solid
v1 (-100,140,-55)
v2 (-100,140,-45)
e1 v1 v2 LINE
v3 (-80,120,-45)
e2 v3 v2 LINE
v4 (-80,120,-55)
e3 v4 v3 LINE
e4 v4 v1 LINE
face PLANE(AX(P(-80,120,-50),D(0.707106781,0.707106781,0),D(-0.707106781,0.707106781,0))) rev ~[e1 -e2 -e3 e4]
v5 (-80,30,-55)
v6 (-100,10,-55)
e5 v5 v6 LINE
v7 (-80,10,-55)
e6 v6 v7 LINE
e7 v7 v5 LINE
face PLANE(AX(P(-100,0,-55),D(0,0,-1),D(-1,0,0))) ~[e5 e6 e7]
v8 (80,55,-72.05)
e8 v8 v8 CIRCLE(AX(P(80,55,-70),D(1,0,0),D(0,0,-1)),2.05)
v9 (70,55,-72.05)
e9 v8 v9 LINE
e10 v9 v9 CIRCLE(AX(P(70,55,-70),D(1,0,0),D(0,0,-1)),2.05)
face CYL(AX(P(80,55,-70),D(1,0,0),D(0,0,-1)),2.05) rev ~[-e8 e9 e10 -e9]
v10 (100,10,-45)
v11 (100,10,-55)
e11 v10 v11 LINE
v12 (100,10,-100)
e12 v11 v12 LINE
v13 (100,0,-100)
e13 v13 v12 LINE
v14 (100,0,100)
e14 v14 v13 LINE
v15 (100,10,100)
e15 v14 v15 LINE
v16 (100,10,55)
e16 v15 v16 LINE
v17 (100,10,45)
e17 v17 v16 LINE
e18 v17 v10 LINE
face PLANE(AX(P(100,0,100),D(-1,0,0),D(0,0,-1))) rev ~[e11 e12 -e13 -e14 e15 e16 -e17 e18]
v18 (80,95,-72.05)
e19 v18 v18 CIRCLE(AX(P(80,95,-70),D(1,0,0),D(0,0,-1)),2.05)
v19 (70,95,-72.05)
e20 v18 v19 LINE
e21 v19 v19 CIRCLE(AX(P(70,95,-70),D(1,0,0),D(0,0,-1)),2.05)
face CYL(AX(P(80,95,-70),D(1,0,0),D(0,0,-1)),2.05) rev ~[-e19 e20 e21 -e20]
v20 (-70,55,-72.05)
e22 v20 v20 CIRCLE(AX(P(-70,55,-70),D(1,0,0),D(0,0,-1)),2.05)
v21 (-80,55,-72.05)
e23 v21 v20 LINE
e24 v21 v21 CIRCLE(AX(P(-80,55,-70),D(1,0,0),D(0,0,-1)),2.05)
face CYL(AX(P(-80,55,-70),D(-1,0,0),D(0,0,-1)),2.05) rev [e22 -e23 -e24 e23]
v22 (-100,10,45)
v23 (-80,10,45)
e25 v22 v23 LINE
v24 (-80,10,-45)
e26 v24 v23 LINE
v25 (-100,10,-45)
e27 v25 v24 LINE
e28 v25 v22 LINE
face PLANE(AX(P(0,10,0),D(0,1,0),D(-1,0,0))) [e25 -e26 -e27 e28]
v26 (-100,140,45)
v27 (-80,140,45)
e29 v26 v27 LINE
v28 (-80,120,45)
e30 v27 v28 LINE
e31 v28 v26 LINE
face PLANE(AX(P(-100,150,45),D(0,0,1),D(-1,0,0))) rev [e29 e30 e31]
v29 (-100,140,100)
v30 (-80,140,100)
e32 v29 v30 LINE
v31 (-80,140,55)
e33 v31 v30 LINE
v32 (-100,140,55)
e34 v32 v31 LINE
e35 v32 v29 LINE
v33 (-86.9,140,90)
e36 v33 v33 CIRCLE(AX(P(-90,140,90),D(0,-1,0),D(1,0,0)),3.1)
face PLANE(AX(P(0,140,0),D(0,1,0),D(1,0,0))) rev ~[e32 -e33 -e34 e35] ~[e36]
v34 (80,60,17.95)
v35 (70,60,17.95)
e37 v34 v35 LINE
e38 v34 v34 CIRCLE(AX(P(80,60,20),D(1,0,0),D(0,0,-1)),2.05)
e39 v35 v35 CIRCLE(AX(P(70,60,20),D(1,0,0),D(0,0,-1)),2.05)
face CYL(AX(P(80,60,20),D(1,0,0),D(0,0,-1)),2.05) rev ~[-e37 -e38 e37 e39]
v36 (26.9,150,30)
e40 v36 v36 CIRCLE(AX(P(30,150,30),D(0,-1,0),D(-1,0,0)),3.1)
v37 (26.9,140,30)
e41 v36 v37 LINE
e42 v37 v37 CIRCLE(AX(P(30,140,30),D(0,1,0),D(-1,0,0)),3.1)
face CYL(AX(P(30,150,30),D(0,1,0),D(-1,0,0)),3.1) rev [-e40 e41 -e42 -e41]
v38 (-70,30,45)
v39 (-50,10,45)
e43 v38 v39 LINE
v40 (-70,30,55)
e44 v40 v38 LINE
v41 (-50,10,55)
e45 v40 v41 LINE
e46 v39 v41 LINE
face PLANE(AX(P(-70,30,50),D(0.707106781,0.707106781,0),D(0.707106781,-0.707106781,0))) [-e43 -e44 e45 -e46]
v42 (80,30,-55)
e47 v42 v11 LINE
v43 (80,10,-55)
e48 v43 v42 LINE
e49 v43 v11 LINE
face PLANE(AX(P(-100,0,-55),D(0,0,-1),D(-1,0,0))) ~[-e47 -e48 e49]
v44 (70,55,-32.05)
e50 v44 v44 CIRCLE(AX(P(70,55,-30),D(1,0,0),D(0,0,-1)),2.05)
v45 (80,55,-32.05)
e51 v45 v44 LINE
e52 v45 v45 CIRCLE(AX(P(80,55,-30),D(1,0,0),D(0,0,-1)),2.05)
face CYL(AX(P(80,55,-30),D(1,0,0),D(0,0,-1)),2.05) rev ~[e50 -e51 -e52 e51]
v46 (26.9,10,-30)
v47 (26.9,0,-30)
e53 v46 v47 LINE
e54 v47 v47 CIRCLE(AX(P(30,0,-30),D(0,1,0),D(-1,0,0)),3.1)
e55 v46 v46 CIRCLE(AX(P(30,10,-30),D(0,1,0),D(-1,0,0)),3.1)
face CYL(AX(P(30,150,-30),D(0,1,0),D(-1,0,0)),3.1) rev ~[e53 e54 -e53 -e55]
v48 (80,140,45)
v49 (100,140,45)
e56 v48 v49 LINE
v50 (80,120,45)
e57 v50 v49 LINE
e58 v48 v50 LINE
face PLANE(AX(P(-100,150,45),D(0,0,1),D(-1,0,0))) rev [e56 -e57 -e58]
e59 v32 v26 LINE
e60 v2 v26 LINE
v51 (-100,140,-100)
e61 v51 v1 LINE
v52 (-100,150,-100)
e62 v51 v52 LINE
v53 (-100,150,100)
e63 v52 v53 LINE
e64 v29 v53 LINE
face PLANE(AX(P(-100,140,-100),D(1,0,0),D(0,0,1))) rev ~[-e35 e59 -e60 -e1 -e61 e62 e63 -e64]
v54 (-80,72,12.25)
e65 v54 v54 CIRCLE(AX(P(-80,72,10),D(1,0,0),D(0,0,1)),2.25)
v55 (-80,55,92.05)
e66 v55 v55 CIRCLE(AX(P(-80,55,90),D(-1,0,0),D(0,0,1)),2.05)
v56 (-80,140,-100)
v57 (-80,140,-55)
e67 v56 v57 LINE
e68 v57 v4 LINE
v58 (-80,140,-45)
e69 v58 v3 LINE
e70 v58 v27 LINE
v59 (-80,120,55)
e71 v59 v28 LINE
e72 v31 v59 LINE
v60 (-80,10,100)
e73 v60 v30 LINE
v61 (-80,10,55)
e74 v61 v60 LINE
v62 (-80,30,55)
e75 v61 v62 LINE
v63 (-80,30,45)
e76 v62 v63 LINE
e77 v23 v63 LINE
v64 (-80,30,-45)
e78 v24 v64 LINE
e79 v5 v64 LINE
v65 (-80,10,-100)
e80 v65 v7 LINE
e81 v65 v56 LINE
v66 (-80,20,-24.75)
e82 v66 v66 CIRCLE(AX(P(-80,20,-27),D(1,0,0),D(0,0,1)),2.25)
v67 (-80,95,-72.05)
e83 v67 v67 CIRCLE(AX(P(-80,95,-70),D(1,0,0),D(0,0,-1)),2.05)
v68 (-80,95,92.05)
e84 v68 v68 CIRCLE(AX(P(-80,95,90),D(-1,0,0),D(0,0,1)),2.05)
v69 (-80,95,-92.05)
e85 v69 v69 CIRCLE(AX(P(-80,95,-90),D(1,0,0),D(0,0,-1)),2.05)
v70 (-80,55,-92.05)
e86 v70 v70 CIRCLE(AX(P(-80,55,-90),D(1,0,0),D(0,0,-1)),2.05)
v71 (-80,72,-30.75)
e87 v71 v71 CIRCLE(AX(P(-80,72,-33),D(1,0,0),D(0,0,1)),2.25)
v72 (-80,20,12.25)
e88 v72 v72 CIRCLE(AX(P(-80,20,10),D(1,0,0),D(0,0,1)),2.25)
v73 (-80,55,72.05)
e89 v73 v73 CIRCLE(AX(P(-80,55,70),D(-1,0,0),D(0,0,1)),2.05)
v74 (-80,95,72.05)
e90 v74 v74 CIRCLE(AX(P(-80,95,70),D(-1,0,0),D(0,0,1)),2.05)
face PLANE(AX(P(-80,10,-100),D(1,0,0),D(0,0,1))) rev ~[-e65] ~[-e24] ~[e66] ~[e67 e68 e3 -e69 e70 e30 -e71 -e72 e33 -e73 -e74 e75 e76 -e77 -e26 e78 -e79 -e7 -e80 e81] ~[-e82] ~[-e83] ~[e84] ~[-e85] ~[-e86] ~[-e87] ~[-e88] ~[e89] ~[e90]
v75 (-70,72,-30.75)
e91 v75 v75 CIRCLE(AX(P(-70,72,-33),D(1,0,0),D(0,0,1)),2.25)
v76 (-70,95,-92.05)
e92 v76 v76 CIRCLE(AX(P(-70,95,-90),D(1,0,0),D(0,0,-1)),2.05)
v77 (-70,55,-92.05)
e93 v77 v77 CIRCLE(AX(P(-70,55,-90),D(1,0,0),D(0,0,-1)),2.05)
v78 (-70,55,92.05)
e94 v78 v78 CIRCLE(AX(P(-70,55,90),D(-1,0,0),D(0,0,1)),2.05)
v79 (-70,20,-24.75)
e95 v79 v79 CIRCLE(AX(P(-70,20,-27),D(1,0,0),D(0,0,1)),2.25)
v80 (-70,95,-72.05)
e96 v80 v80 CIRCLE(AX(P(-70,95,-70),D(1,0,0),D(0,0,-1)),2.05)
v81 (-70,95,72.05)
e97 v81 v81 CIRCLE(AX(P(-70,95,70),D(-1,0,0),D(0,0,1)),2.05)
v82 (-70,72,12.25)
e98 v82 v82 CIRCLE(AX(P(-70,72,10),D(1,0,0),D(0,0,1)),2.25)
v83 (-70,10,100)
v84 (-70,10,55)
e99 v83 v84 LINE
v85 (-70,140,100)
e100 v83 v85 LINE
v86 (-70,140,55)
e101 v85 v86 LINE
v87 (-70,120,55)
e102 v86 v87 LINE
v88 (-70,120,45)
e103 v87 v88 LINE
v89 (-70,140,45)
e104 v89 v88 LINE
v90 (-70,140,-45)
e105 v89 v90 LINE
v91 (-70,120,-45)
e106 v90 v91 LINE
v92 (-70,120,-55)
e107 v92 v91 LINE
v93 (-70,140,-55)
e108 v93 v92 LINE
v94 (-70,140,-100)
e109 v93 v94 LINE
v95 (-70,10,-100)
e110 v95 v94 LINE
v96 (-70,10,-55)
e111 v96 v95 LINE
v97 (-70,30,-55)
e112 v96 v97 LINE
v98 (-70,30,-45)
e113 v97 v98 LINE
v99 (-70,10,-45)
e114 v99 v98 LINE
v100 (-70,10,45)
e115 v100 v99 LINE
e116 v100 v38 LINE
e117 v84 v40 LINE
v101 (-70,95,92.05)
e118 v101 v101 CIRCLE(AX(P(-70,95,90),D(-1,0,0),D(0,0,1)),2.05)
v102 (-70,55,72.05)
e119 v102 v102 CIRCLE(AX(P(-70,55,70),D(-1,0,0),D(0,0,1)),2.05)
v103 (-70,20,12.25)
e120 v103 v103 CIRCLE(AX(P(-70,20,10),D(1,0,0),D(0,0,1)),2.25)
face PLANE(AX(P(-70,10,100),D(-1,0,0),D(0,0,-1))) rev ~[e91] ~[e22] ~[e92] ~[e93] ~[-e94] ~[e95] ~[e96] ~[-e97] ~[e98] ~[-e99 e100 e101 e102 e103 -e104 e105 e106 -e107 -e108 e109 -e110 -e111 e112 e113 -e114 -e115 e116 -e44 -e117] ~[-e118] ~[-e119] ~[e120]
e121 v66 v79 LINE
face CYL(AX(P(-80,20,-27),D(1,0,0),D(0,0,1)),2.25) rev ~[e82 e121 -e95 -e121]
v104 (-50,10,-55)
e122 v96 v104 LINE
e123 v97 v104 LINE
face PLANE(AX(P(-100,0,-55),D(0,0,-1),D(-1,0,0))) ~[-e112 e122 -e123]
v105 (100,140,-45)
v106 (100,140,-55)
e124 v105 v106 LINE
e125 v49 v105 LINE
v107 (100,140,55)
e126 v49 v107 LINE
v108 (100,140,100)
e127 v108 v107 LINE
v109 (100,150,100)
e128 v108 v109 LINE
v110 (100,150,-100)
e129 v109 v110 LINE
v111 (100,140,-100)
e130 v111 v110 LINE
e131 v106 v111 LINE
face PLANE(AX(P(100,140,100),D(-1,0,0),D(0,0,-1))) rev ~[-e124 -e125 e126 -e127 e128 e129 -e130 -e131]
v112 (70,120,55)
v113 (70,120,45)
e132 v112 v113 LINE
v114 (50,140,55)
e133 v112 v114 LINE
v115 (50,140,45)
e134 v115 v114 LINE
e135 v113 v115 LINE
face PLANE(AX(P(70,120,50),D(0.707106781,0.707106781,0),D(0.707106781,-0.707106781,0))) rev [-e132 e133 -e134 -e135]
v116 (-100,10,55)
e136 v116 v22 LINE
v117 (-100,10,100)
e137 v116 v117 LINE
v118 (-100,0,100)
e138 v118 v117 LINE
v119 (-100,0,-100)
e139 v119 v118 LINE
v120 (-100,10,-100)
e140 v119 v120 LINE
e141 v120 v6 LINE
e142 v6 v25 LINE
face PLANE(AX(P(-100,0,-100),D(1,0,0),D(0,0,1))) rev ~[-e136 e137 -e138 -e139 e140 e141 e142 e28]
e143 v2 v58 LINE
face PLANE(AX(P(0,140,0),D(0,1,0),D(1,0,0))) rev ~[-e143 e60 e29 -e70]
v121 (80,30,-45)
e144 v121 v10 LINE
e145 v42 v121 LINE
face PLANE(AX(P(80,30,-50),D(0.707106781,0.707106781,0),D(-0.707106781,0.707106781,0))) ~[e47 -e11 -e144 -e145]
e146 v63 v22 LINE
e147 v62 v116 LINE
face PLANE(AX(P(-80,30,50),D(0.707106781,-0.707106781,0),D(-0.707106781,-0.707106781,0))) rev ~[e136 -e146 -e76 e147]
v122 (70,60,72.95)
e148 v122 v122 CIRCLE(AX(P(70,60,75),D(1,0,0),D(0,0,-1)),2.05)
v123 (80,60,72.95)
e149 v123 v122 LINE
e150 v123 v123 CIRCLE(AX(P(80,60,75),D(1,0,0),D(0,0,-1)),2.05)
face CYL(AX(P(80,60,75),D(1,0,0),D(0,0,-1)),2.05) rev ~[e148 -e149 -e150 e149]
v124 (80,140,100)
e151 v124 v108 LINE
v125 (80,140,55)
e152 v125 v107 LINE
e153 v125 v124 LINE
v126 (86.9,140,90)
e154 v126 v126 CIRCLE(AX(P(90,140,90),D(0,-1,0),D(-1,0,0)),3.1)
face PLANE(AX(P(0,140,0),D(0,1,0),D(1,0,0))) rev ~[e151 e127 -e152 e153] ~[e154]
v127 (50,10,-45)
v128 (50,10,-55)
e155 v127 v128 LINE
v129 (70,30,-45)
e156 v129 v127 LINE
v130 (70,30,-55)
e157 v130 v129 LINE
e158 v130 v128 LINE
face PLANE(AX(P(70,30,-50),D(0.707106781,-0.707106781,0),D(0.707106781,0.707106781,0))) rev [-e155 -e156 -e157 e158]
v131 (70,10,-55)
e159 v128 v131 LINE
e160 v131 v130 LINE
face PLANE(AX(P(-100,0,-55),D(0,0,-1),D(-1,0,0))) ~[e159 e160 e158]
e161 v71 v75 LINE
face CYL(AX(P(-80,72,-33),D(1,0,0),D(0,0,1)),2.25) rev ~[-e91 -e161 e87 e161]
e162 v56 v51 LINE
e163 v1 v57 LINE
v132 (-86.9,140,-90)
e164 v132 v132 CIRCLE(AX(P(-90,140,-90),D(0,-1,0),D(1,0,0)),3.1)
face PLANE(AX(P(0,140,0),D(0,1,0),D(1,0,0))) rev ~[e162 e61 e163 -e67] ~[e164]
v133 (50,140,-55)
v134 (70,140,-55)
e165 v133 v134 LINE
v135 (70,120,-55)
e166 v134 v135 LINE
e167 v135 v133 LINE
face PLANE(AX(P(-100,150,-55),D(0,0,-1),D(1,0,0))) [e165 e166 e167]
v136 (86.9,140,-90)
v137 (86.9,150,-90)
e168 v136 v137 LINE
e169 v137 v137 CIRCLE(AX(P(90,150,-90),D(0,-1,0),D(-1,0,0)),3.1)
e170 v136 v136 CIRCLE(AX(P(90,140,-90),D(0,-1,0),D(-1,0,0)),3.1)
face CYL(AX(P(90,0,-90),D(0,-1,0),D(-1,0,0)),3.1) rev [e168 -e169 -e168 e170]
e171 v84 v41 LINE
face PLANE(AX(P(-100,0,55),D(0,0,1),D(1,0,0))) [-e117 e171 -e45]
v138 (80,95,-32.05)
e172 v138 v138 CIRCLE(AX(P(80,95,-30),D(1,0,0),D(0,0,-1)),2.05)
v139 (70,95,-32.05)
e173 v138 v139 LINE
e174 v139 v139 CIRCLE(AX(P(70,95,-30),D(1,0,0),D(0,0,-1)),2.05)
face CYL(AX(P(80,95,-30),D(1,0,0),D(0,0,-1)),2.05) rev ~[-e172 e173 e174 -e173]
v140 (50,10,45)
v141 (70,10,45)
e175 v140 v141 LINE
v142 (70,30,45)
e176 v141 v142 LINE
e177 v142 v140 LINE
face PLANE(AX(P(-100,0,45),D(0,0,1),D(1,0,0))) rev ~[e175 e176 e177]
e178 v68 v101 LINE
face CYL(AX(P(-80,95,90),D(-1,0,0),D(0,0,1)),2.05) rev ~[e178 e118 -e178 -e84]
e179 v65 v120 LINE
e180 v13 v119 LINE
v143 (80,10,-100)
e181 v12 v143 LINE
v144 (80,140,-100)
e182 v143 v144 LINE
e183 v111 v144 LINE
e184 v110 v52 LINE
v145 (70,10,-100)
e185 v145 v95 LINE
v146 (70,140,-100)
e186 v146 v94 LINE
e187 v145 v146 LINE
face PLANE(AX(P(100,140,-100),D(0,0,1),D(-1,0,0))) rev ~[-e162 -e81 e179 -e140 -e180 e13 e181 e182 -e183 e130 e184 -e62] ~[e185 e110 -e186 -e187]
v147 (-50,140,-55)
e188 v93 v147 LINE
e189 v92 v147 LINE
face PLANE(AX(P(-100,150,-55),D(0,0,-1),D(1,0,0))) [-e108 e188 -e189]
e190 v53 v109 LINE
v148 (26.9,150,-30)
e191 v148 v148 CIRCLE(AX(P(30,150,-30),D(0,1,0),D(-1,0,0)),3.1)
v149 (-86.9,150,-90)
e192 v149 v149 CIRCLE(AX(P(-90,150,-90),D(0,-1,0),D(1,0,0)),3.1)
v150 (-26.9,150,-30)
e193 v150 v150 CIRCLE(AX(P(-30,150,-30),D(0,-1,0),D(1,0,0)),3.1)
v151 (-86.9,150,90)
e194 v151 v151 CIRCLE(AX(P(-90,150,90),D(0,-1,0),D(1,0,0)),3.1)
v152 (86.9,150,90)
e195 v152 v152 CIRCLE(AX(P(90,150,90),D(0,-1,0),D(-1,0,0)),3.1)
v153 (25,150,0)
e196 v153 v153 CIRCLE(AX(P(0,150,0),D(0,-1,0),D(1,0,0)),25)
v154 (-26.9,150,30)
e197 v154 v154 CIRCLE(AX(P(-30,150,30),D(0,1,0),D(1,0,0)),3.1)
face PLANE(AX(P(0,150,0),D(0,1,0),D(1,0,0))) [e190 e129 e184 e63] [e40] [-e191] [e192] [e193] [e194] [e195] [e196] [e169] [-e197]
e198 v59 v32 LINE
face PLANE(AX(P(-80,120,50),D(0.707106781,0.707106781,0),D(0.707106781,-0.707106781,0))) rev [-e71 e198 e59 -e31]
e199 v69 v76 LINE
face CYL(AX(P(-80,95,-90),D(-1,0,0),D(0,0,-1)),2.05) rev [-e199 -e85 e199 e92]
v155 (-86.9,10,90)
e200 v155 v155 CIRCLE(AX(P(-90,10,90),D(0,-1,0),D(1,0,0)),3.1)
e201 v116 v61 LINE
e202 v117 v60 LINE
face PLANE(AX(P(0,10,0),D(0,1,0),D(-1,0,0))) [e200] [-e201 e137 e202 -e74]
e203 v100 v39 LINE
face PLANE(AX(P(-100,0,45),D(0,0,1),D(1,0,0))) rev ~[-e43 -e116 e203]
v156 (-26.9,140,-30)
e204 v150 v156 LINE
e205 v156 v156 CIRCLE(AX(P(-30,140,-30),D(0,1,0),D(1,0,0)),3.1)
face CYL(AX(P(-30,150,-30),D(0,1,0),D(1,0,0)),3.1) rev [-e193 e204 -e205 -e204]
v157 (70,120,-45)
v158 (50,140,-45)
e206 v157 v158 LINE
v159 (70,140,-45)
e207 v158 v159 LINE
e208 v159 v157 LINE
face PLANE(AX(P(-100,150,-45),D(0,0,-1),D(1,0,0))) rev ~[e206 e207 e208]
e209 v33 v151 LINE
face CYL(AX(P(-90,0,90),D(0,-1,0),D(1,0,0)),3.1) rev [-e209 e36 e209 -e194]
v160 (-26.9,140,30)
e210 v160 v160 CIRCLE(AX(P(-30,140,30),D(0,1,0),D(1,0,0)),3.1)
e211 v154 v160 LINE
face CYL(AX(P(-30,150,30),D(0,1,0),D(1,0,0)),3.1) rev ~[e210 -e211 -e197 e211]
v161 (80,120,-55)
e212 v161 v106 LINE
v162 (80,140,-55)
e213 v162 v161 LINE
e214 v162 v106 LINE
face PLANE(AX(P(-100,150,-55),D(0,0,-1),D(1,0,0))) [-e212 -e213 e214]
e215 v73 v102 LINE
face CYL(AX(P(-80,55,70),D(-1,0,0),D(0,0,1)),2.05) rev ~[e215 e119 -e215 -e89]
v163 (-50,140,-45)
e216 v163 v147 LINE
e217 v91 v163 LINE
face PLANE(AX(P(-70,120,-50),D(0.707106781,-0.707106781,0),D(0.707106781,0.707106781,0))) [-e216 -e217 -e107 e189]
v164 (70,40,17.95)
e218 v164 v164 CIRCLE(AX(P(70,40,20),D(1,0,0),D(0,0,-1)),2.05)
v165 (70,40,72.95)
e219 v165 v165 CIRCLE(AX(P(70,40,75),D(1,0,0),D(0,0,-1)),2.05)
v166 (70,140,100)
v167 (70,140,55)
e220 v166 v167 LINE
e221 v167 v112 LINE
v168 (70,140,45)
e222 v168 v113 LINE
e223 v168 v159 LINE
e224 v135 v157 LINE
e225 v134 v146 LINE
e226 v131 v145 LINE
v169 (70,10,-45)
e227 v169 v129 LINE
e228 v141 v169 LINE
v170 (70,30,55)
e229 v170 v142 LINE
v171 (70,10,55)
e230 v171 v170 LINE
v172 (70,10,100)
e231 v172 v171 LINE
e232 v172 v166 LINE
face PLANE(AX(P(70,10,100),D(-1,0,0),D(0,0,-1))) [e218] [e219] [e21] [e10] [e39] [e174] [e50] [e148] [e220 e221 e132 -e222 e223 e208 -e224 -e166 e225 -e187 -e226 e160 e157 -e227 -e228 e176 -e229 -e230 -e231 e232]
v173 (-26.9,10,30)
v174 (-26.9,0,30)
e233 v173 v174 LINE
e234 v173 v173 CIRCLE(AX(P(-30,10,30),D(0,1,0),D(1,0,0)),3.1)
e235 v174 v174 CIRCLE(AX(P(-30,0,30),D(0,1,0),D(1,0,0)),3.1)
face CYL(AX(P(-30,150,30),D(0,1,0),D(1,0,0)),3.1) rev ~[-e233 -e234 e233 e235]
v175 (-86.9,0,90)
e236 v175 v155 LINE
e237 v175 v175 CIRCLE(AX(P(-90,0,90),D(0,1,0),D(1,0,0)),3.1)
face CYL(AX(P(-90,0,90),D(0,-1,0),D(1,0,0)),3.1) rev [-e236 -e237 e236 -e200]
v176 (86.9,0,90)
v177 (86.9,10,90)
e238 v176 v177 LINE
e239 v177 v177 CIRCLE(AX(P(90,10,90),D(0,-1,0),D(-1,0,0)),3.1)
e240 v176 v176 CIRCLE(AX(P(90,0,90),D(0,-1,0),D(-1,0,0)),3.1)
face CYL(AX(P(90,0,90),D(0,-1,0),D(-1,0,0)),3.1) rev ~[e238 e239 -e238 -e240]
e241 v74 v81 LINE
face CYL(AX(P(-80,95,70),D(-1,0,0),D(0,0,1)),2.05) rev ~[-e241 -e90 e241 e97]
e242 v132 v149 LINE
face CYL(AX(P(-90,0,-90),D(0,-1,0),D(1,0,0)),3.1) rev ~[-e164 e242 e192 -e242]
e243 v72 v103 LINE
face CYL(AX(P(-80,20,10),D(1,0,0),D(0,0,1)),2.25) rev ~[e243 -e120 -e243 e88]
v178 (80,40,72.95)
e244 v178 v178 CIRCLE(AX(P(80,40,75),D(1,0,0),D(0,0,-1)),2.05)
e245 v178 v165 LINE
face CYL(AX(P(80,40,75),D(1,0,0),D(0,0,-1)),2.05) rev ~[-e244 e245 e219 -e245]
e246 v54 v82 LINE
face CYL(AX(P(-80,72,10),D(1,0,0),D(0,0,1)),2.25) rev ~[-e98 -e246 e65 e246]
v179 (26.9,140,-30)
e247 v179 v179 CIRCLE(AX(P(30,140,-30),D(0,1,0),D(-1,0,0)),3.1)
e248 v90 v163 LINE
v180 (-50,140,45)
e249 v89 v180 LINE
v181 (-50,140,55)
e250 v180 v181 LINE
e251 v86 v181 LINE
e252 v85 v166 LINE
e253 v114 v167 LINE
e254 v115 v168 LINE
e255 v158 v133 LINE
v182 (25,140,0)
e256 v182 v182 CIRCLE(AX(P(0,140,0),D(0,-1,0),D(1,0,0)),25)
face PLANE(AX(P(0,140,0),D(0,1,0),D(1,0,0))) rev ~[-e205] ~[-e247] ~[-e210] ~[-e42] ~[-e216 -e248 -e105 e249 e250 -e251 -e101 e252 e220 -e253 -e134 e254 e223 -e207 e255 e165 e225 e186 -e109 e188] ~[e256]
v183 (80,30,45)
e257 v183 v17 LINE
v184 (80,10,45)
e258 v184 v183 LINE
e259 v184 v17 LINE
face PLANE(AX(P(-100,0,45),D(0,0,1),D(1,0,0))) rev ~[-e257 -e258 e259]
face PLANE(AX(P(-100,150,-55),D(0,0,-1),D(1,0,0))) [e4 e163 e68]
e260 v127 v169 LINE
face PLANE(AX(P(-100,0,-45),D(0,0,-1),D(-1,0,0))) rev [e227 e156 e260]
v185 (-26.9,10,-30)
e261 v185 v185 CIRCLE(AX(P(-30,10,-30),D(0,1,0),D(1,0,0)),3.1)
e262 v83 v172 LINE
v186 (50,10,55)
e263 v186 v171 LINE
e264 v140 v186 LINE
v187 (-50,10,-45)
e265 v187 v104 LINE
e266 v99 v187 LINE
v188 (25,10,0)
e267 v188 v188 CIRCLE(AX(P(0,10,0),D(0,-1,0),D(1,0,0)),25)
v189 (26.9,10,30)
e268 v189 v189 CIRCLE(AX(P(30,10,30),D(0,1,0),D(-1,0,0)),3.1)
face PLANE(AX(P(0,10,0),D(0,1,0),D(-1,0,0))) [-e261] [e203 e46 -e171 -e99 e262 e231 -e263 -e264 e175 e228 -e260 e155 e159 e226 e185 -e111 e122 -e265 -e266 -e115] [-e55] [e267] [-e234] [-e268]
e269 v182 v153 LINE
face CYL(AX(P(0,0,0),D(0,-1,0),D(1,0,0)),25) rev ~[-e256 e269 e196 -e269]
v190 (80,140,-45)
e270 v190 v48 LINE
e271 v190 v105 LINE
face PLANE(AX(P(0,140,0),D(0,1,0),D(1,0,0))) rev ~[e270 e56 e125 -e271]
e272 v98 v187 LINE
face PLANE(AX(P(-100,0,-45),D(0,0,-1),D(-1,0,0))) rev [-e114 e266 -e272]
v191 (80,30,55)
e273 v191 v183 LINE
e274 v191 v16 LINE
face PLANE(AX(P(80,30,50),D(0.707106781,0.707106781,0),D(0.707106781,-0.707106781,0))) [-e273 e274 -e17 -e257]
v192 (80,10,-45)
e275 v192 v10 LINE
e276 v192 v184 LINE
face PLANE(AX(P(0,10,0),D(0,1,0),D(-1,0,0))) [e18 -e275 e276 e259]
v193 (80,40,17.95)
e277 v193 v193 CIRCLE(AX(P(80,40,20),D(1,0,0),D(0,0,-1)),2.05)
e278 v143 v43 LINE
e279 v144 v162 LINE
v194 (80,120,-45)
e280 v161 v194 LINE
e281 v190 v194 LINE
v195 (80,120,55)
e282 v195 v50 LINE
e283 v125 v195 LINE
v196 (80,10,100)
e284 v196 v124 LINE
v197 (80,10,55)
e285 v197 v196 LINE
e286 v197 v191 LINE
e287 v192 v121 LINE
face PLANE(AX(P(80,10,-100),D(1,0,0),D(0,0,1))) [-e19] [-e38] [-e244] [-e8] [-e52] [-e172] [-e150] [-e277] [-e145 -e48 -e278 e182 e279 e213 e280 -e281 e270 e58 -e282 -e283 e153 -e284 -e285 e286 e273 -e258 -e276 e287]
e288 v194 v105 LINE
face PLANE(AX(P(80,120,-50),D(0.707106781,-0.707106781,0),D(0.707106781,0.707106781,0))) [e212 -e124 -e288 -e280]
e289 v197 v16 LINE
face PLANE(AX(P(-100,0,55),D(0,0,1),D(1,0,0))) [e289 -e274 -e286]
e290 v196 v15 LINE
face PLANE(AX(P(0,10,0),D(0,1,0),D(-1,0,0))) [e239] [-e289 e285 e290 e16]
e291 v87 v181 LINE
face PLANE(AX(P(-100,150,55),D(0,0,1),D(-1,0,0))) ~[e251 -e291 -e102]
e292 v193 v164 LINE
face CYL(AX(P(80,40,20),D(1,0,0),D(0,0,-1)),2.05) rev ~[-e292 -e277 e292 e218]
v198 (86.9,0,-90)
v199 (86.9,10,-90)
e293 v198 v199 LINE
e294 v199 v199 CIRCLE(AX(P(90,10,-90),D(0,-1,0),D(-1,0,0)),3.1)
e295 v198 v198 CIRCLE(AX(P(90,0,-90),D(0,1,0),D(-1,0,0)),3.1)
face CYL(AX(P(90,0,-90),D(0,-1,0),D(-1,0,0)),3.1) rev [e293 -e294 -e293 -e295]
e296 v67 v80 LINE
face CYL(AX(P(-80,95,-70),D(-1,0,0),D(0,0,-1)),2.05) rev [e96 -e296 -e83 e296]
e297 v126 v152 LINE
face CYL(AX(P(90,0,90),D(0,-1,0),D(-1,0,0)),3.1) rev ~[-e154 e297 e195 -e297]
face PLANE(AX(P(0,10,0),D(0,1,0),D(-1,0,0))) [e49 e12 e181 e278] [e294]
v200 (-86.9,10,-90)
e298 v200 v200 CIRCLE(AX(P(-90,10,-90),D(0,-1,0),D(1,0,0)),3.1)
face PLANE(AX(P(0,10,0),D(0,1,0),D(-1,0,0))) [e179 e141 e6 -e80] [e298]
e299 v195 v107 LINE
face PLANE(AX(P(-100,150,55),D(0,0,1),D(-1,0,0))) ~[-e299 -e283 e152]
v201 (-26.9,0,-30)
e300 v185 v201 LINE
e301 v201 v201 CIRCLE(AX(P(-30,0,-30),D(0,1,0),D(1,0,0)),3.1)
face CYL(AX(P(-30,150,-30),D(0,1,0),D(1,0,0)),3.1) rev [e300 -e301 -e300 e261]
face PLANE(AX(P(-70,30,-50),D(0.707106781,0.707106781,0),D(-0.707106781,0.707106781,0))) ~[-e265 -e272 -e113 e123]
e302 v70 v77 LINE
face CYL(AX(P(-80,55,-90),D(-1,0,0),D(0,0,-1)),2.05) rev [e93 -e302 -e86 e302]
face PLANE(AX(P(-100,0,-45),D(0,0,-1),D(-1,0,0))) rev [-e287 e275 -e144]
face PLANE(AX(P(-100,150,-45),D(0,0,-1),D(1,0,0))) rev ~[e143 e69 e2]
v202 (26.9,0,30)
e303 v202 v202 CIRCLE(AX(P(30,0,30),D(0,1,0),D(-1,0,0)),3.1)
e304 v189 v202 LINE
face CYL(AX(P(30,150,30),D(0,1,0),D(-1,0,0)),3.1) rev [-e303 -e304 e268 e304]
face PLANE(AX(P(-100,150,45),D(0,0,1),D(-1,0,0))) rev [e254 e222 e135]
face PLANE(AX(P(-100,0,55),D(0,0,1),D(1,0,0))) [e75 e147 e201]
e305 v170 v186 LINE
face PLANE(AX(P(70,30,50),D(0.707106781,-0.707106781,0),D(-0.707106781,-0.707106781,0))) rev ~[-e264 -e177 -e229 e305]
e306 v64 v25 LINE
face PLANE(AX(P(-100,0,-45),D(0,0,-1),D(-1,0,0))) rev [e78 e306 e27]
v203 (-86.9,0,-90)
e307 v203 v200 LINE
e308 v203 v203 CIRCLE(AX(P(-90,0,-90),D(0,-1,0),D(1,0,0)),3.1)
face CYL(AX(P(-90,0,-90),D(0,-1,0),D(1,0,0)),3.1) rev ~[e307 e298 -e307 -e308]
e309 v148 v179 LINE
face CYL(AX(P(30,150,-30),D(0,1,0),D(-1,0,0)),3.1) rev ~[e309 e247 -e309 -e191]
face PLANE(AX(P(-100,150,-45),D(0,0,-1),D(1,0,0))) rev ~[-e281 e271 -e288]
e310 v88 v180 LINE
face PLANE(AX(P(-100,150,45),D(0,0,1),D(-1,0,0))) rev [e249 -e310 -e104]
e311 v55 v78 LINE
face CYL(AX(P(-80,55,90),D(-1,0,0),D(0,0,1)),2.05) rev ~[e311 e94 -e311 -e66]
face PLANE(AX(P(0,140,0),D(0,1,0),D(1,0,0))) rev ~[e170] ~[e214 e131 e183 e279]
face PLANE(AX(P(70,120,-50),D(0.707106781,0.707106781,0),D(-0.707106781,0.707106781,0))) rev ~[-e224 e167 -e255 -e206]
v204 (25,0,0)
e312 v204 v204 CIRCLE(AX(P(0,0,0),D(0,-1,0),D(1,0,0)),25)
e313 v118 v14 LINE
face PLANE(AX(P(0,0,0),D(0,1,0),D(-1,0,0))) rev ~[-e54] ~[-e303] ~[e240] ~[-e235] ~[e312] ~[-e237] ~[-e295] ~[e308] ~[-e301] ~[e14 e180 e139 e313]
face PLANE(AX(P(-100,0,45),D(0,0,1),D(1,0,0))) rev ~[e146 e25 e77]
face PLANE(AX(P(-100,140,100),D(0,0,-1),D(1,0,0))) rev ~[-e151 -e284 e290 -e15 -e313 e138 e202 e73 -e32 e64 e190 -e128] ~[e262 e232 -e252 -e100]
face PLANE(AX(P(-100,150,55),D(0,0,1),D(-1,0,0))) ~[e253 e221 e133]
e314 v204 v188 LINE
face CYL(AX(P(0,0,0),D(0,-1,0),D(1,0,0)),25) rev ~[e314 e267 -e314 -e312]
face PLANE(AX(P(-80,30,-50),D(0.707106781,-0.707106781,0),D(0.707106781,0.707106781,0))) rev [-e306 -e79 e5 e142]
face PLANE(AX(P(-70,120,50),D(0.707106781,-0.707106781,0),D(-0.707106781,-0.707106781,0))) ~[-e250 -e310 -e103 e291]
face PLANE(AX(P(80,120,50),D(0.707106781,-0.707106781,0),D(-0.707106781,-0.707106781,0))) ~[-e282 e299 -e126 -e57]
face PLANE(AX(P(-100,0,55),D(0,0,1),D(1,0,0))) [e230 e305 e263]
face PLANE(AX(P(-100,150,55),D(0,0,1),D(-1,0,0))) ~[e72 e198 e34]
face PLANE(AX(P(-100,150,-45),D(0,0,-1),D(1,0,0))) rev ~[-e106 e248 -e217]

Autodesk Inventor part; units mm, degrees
ref_plane "YZ Plane" through (0, 0, 0) normal (1, 0, 0) x (0, 1, 0)
ref_plane "XZ Plane" through (0, 0, 0) normal (0, 1, 0) x (-1, 0, 0)
ref_plane "XY Plane" through (0, 0, 0) normal (0, 0, 1) x (1, 0, 0)
sketch "Sketch1" plane through (0, 0, 0) normal (0, 1, 0) x (-1, 0, 0)
  line L0 (100, 100) -> (-100, 100)
  line L1 (-100, 100) -> (-100, -100)
  line L2 (-100, -100) -> (100, -100)
  line L3 (100, -100) -> (100, 100)
  line L4 (100, 100) -> (-100, -100) construction
  line L5 (-100, 100) -> (100, -100) construction
  point P0 (0, 0)
  dimension "d0" = 200
  dimension "d1" = 200
extrude "Extrusion1" add sketch "Sketch1" along normal blind 10
sketch "Sketch2" plane through (0, 10, 0) normal (0, 1, 0) x (1, 0, 0)
  line L0 (-80, -100) -> (-70, -100)
  line L1 (-70, -100) -> (-70, 100)
  line L2 (-70, 100) -> (-80, 100)
  line L3 (-80, 100) -> (-80, -100)
  line L4 (-80, -100) -> (-70, 100) construction
  line L5 (-70, -100) -> (-80, 100) construction
  line L6 (80, -100) -> (70, -100)
  line L7 (70, -100) -> (70, 100)
  line L8 (70, 100) -> (80, 100)
  line L9 (80, 100) -> (80, -100)
  line L10 (80, -100) -> (70, 100) construction
  line L11 (70, -100) -> (80, 100) construction
  line L12 (100, 100) -> (-100, 100) projected
  line L13 (-100, -100) -> (100, -100) projected
  line L14 (-100, 100) -> (-100, -100) projected
  line L15 (100, -100) -> (100, 100) projected
  point P0 (0, 0)
  point P1 (-75, 0)
  point P2 (75, 0)
  dimension "d4" = 10
  dimension "d5" = 10
  dimension "d6" = 20
  dimension "d7" = 20
extrude "Extrusion2" add sketch "Sketch2" along normal blind 130 contours L3 L2 L1 L0 | L7 L8 L9 L6
ref_plane "Work Plane1" through (-100, 0, 50) normal (0, 0, 1) x (1, 0, 0)
ref_plane "Work Plane2" through (-100, 0, -50) normal (0, 0, 1) x (1, 0, 0)
sketch "Sketch3" plane through (-100, 0, 50) normal (0, 0, 1) x (1, 0, 0)
  line L0 (180, 10) -> (180, 140) projected
  line L1 (180, 10) -> (200, 10) projected
  line L2 (20, 10) -> (20, 140) projected
  line L3 (0, 10) -> (20, 10) projected
  line L4 (30, 10) -> (30, 140) projected
  line L5 (30, 10) -> (170, 10) projected
  line L6 (170, 10) -> (170, 140) projected
  line L7 (180, 30) -> (200, 10)
  line L8 (170, 30) -> (150, 10)
  line L9 (30, 30) -> (50, 10)
  line L10 (20, 30) -> (0, 10)
  line L11 (20, 30) -> (20, 10)
  line L12 (30, 30) -> (30, 10)
  line L13 (170, 30) -> (170, 10)
  line L14 (180, 30) -> (180, 10)
  point P0 (100, 0)
  dimension "d12" = 20
  dimension "d13" = 20
  dimension "d14" = 20
  dimension "d15" = 20
  dimension "d16" = 20
  dimension "d17" = 20
  dimension "d19" = 20
extrude "Extrusion3" add sketch "Sketch3" along normal mid plane 10
ref_plane "Work Plane3" through (-100, 0, 0) normal (0, 0, 1) x (1, 0, 0)
mirror "Mirror1" about plane through (-100, 0, 0) normal (0, 0, 1) of "Extrusion3"
ref_plane "Work Plane4" through (0, 75, 0) normal (0, -1, 0) x (1, 0, 0)
sketch "Sketch4" plane through (0, 140, 0) normal (0, 1, 0) x (1, 0, 0)
  line L0 (-100, -100) -> (100, -100)
  line L1 (100, -100) -> (100, 100)
  line L2 (100, 100) -> (-100, 100)
  line L3 (-100, 100) -> (-100, -100)
  line L4 (-100, -100) -> (100, 100) construction
  line L5 (100, -100) -> (-100, 100) construction
  point P0 (0, 0)
  dimension "d24" = 200
  dimension "d25" = 200
extrude "Extrusion4" add sketch "Sketch4" along normal blind 10
mirror "Mirror2" about plane through (0, 75, 0) normal (0, -1, 0) of "Extrusion3", "Mirror1"
sketch "Sketch5" plane through (0, 0, 0) normal (0, -1, 0) x (1, 0, 0)
  circle A0 centre (0, 0) radius 25
  dimension "d28" = 50
extrude "Extrusion5" cut sketch "Sketch5" against normal through all
sketch "Sketch6" plane through (0, 0, 0) normal (0, -1, 0) x (1, 0, 0)
  circle A0 centre (-90, -90) radius 3.1
  line L0 (100, -100) -> (-100, -100) projected
  line L1 (-100, -100) -> (-100, 100) projected
  point P0 (0, 0)
  dimension "d31" = 6.2
  dimension "d32" = 10
  dimension "d33" = 10
extrude "Extrusion6" cut sketch "Sketch6" against normal through all
ref_plane "Work Plane5" through (0, 140, 100) normal (-1, 0, 0) x (0, 0, 1)
mirror "Mirror3" about plane through (-100, 0, 0) normal (0, 0, 1) of "Extrusion6"
mirror "Mirror4" about plane through (0, 140, 100) normal (-1, 0, 0) of "Extrusion6", "Mirror3"
sketch "Sketch8" plane through (0, 150, 0) normal (0, 1, 0) x (1, 0, 0)
  circle A0 centre (-30, -30) radius 3.1
  line L0 (140, 0) -> (-140, 0) projected
  line L1 (0, -140) -> (0, 140) projected
  point P0 (0, 0)
  dimension "d37" = 6.2
  dimension "d38" = 30
  dimension "d39" = 30
extrude "Extrusion7" cut sketch "Sketch8" against normal through all
mirror "Mirror5" about plane through (-100, 0, 0) normal (0, 0, 1) of "Extrusion7"
mirror "Mirror6" about plane through (0, 140, 100) normal (-1, 0, 0) of "Extrusion7", "Mirror5"
sketch "Sketch9" plane through (-80, 10, 55) normal (-1, 0, 0) x (0, 0, 1)
  circle A0 centre (-45, 10) radius 2.05
  circle A1 centre (-45, 62) radius 2.05
  circle A2 centre (-82, 10) radius 2.05
  circle A3 centre (-88, 62) radius 2.05
  line L0 (-10, 0) -> (-100, 0) projected
  line L1 (45, 0) -> (45, 130) projected
  point P0 (-55, -10)
  dimension "d42" = 4.1
  dimension "d43" = 4.1
  dimension "d44" = 52
  dimension "d45" = 0
  dimension "d46" = 4.1
  dimension "d47" = 37
  dimension "d48" = 4.1
  dimension "d49" = 43
  dimension "d50" = 10
  dimension "d51" = 0
  dimension "d52" = 0
  dimension "d53" = 90
hole "Hole1" at (-80, 72, -33) at (-80, 72, 10) at (-80, 20, 10) at (-80, 20, -27) direction (1, 0, 0) diameter 4.5 depth 10 tip angle 118
sketch "Sketch10" plane through (80, 10, 100) normal (1, 0, 0) x (0, 0, -1)
  circle A0 centre (80, 30) radius 2.05
  circle A1 centre (25, 30) radius 2.05
  circle A2 centre (25, 50) radius 2.05
  circle A3 centre (80, 50) radius 2.05
  line L0 (145, 0) -> (55, 0) projected
  line L1 (200, 0) -> (200, 130) projected
  point P0 (100, -10)
  dimension "d61" = 4.1
  dimension "d62" = 4.1
  dimension "d63" = 4.1
  dimension "d64" = 4.1
  dimension "d65" = 0
  dimension "d66" = 55
  dimension "d67" = 0
  dimension "d68" = 20
  dimension "d69" = 0
  dimension "d70" = 0
  dimension "d71" = 30
  dimension "d74" = 120
extrude "Extrusion8" cut sketch "Sketch10" against normal blind 10
sketch "Sketch11" plane through (80, 10, 100) normal (1, 0, 0) x (0, 0, -1)
  circle A0 centre (170, 85) radius 2.05
  circle A1 centre (170, 45) radius 2.05
  circle A2 centre (130, 45) radius 2.05
  circle A3 centre (130, 85) radius 2.05
  line L0 (150, -40) -> (150, 170) projected
  line L1 (240, 65) -> (-40, 65) projected
  point P0 (100, -10)
  dimension "d75" = 4.1
  dimension "d76" = 4.1
  dimension "d77" = 4.1
  dimension "d78" = 4.1
  dimension "d79" = 20
  dimension "d80" = 20
  dimension "d81" = 20
  dimension "d82" = 20
  dimension "d83" = 20
  dimension "d84" = 20
  dimension "d85" = 20
  dimension "d86" = 20
extrude "Extrusion9" cut sketch "Sketch11" against normal blind 10
sketch "Sketch12" plane through (-80, 10, 55) normal (-1, 0, 0) x (0, 0, 1)
  circle A0 centre (15, 85) radius 2.05
  circle A1 centre (15, 45) radius 2.05
  line L0 (85, 65) -> (-195, 65) projected
  line L1 (-5, 170) -> (-5, -40) projected
  circle A2 centre (35, 85) radius 2.05
  circle A3 centre (35, 45) radius 2.05
  point P0 (-55, -10)
  dimension "d89" = 4.1
  dimension "d90" = 4.1
  dimension "d91" = 20
  dimension "d92" = 20
  dimension "d93" = 20
  dimension "d94" = 20
  dimension "d95" = 4.1
  dimension "d96" = 4.1
  dimension "d97" = 40
  dimension "d98" = 40
  dimension "d99" = 20
  dimension "d100" = 20
extrude "Extrusion10" cut sketch "Sketch12" against normal blind 10
mirror "Mirror7" about plane through (-100, 0, 0) normal (0, 0, 1) of "Extrusion10"
properties part number "main_case" material "ABS Plastic"
